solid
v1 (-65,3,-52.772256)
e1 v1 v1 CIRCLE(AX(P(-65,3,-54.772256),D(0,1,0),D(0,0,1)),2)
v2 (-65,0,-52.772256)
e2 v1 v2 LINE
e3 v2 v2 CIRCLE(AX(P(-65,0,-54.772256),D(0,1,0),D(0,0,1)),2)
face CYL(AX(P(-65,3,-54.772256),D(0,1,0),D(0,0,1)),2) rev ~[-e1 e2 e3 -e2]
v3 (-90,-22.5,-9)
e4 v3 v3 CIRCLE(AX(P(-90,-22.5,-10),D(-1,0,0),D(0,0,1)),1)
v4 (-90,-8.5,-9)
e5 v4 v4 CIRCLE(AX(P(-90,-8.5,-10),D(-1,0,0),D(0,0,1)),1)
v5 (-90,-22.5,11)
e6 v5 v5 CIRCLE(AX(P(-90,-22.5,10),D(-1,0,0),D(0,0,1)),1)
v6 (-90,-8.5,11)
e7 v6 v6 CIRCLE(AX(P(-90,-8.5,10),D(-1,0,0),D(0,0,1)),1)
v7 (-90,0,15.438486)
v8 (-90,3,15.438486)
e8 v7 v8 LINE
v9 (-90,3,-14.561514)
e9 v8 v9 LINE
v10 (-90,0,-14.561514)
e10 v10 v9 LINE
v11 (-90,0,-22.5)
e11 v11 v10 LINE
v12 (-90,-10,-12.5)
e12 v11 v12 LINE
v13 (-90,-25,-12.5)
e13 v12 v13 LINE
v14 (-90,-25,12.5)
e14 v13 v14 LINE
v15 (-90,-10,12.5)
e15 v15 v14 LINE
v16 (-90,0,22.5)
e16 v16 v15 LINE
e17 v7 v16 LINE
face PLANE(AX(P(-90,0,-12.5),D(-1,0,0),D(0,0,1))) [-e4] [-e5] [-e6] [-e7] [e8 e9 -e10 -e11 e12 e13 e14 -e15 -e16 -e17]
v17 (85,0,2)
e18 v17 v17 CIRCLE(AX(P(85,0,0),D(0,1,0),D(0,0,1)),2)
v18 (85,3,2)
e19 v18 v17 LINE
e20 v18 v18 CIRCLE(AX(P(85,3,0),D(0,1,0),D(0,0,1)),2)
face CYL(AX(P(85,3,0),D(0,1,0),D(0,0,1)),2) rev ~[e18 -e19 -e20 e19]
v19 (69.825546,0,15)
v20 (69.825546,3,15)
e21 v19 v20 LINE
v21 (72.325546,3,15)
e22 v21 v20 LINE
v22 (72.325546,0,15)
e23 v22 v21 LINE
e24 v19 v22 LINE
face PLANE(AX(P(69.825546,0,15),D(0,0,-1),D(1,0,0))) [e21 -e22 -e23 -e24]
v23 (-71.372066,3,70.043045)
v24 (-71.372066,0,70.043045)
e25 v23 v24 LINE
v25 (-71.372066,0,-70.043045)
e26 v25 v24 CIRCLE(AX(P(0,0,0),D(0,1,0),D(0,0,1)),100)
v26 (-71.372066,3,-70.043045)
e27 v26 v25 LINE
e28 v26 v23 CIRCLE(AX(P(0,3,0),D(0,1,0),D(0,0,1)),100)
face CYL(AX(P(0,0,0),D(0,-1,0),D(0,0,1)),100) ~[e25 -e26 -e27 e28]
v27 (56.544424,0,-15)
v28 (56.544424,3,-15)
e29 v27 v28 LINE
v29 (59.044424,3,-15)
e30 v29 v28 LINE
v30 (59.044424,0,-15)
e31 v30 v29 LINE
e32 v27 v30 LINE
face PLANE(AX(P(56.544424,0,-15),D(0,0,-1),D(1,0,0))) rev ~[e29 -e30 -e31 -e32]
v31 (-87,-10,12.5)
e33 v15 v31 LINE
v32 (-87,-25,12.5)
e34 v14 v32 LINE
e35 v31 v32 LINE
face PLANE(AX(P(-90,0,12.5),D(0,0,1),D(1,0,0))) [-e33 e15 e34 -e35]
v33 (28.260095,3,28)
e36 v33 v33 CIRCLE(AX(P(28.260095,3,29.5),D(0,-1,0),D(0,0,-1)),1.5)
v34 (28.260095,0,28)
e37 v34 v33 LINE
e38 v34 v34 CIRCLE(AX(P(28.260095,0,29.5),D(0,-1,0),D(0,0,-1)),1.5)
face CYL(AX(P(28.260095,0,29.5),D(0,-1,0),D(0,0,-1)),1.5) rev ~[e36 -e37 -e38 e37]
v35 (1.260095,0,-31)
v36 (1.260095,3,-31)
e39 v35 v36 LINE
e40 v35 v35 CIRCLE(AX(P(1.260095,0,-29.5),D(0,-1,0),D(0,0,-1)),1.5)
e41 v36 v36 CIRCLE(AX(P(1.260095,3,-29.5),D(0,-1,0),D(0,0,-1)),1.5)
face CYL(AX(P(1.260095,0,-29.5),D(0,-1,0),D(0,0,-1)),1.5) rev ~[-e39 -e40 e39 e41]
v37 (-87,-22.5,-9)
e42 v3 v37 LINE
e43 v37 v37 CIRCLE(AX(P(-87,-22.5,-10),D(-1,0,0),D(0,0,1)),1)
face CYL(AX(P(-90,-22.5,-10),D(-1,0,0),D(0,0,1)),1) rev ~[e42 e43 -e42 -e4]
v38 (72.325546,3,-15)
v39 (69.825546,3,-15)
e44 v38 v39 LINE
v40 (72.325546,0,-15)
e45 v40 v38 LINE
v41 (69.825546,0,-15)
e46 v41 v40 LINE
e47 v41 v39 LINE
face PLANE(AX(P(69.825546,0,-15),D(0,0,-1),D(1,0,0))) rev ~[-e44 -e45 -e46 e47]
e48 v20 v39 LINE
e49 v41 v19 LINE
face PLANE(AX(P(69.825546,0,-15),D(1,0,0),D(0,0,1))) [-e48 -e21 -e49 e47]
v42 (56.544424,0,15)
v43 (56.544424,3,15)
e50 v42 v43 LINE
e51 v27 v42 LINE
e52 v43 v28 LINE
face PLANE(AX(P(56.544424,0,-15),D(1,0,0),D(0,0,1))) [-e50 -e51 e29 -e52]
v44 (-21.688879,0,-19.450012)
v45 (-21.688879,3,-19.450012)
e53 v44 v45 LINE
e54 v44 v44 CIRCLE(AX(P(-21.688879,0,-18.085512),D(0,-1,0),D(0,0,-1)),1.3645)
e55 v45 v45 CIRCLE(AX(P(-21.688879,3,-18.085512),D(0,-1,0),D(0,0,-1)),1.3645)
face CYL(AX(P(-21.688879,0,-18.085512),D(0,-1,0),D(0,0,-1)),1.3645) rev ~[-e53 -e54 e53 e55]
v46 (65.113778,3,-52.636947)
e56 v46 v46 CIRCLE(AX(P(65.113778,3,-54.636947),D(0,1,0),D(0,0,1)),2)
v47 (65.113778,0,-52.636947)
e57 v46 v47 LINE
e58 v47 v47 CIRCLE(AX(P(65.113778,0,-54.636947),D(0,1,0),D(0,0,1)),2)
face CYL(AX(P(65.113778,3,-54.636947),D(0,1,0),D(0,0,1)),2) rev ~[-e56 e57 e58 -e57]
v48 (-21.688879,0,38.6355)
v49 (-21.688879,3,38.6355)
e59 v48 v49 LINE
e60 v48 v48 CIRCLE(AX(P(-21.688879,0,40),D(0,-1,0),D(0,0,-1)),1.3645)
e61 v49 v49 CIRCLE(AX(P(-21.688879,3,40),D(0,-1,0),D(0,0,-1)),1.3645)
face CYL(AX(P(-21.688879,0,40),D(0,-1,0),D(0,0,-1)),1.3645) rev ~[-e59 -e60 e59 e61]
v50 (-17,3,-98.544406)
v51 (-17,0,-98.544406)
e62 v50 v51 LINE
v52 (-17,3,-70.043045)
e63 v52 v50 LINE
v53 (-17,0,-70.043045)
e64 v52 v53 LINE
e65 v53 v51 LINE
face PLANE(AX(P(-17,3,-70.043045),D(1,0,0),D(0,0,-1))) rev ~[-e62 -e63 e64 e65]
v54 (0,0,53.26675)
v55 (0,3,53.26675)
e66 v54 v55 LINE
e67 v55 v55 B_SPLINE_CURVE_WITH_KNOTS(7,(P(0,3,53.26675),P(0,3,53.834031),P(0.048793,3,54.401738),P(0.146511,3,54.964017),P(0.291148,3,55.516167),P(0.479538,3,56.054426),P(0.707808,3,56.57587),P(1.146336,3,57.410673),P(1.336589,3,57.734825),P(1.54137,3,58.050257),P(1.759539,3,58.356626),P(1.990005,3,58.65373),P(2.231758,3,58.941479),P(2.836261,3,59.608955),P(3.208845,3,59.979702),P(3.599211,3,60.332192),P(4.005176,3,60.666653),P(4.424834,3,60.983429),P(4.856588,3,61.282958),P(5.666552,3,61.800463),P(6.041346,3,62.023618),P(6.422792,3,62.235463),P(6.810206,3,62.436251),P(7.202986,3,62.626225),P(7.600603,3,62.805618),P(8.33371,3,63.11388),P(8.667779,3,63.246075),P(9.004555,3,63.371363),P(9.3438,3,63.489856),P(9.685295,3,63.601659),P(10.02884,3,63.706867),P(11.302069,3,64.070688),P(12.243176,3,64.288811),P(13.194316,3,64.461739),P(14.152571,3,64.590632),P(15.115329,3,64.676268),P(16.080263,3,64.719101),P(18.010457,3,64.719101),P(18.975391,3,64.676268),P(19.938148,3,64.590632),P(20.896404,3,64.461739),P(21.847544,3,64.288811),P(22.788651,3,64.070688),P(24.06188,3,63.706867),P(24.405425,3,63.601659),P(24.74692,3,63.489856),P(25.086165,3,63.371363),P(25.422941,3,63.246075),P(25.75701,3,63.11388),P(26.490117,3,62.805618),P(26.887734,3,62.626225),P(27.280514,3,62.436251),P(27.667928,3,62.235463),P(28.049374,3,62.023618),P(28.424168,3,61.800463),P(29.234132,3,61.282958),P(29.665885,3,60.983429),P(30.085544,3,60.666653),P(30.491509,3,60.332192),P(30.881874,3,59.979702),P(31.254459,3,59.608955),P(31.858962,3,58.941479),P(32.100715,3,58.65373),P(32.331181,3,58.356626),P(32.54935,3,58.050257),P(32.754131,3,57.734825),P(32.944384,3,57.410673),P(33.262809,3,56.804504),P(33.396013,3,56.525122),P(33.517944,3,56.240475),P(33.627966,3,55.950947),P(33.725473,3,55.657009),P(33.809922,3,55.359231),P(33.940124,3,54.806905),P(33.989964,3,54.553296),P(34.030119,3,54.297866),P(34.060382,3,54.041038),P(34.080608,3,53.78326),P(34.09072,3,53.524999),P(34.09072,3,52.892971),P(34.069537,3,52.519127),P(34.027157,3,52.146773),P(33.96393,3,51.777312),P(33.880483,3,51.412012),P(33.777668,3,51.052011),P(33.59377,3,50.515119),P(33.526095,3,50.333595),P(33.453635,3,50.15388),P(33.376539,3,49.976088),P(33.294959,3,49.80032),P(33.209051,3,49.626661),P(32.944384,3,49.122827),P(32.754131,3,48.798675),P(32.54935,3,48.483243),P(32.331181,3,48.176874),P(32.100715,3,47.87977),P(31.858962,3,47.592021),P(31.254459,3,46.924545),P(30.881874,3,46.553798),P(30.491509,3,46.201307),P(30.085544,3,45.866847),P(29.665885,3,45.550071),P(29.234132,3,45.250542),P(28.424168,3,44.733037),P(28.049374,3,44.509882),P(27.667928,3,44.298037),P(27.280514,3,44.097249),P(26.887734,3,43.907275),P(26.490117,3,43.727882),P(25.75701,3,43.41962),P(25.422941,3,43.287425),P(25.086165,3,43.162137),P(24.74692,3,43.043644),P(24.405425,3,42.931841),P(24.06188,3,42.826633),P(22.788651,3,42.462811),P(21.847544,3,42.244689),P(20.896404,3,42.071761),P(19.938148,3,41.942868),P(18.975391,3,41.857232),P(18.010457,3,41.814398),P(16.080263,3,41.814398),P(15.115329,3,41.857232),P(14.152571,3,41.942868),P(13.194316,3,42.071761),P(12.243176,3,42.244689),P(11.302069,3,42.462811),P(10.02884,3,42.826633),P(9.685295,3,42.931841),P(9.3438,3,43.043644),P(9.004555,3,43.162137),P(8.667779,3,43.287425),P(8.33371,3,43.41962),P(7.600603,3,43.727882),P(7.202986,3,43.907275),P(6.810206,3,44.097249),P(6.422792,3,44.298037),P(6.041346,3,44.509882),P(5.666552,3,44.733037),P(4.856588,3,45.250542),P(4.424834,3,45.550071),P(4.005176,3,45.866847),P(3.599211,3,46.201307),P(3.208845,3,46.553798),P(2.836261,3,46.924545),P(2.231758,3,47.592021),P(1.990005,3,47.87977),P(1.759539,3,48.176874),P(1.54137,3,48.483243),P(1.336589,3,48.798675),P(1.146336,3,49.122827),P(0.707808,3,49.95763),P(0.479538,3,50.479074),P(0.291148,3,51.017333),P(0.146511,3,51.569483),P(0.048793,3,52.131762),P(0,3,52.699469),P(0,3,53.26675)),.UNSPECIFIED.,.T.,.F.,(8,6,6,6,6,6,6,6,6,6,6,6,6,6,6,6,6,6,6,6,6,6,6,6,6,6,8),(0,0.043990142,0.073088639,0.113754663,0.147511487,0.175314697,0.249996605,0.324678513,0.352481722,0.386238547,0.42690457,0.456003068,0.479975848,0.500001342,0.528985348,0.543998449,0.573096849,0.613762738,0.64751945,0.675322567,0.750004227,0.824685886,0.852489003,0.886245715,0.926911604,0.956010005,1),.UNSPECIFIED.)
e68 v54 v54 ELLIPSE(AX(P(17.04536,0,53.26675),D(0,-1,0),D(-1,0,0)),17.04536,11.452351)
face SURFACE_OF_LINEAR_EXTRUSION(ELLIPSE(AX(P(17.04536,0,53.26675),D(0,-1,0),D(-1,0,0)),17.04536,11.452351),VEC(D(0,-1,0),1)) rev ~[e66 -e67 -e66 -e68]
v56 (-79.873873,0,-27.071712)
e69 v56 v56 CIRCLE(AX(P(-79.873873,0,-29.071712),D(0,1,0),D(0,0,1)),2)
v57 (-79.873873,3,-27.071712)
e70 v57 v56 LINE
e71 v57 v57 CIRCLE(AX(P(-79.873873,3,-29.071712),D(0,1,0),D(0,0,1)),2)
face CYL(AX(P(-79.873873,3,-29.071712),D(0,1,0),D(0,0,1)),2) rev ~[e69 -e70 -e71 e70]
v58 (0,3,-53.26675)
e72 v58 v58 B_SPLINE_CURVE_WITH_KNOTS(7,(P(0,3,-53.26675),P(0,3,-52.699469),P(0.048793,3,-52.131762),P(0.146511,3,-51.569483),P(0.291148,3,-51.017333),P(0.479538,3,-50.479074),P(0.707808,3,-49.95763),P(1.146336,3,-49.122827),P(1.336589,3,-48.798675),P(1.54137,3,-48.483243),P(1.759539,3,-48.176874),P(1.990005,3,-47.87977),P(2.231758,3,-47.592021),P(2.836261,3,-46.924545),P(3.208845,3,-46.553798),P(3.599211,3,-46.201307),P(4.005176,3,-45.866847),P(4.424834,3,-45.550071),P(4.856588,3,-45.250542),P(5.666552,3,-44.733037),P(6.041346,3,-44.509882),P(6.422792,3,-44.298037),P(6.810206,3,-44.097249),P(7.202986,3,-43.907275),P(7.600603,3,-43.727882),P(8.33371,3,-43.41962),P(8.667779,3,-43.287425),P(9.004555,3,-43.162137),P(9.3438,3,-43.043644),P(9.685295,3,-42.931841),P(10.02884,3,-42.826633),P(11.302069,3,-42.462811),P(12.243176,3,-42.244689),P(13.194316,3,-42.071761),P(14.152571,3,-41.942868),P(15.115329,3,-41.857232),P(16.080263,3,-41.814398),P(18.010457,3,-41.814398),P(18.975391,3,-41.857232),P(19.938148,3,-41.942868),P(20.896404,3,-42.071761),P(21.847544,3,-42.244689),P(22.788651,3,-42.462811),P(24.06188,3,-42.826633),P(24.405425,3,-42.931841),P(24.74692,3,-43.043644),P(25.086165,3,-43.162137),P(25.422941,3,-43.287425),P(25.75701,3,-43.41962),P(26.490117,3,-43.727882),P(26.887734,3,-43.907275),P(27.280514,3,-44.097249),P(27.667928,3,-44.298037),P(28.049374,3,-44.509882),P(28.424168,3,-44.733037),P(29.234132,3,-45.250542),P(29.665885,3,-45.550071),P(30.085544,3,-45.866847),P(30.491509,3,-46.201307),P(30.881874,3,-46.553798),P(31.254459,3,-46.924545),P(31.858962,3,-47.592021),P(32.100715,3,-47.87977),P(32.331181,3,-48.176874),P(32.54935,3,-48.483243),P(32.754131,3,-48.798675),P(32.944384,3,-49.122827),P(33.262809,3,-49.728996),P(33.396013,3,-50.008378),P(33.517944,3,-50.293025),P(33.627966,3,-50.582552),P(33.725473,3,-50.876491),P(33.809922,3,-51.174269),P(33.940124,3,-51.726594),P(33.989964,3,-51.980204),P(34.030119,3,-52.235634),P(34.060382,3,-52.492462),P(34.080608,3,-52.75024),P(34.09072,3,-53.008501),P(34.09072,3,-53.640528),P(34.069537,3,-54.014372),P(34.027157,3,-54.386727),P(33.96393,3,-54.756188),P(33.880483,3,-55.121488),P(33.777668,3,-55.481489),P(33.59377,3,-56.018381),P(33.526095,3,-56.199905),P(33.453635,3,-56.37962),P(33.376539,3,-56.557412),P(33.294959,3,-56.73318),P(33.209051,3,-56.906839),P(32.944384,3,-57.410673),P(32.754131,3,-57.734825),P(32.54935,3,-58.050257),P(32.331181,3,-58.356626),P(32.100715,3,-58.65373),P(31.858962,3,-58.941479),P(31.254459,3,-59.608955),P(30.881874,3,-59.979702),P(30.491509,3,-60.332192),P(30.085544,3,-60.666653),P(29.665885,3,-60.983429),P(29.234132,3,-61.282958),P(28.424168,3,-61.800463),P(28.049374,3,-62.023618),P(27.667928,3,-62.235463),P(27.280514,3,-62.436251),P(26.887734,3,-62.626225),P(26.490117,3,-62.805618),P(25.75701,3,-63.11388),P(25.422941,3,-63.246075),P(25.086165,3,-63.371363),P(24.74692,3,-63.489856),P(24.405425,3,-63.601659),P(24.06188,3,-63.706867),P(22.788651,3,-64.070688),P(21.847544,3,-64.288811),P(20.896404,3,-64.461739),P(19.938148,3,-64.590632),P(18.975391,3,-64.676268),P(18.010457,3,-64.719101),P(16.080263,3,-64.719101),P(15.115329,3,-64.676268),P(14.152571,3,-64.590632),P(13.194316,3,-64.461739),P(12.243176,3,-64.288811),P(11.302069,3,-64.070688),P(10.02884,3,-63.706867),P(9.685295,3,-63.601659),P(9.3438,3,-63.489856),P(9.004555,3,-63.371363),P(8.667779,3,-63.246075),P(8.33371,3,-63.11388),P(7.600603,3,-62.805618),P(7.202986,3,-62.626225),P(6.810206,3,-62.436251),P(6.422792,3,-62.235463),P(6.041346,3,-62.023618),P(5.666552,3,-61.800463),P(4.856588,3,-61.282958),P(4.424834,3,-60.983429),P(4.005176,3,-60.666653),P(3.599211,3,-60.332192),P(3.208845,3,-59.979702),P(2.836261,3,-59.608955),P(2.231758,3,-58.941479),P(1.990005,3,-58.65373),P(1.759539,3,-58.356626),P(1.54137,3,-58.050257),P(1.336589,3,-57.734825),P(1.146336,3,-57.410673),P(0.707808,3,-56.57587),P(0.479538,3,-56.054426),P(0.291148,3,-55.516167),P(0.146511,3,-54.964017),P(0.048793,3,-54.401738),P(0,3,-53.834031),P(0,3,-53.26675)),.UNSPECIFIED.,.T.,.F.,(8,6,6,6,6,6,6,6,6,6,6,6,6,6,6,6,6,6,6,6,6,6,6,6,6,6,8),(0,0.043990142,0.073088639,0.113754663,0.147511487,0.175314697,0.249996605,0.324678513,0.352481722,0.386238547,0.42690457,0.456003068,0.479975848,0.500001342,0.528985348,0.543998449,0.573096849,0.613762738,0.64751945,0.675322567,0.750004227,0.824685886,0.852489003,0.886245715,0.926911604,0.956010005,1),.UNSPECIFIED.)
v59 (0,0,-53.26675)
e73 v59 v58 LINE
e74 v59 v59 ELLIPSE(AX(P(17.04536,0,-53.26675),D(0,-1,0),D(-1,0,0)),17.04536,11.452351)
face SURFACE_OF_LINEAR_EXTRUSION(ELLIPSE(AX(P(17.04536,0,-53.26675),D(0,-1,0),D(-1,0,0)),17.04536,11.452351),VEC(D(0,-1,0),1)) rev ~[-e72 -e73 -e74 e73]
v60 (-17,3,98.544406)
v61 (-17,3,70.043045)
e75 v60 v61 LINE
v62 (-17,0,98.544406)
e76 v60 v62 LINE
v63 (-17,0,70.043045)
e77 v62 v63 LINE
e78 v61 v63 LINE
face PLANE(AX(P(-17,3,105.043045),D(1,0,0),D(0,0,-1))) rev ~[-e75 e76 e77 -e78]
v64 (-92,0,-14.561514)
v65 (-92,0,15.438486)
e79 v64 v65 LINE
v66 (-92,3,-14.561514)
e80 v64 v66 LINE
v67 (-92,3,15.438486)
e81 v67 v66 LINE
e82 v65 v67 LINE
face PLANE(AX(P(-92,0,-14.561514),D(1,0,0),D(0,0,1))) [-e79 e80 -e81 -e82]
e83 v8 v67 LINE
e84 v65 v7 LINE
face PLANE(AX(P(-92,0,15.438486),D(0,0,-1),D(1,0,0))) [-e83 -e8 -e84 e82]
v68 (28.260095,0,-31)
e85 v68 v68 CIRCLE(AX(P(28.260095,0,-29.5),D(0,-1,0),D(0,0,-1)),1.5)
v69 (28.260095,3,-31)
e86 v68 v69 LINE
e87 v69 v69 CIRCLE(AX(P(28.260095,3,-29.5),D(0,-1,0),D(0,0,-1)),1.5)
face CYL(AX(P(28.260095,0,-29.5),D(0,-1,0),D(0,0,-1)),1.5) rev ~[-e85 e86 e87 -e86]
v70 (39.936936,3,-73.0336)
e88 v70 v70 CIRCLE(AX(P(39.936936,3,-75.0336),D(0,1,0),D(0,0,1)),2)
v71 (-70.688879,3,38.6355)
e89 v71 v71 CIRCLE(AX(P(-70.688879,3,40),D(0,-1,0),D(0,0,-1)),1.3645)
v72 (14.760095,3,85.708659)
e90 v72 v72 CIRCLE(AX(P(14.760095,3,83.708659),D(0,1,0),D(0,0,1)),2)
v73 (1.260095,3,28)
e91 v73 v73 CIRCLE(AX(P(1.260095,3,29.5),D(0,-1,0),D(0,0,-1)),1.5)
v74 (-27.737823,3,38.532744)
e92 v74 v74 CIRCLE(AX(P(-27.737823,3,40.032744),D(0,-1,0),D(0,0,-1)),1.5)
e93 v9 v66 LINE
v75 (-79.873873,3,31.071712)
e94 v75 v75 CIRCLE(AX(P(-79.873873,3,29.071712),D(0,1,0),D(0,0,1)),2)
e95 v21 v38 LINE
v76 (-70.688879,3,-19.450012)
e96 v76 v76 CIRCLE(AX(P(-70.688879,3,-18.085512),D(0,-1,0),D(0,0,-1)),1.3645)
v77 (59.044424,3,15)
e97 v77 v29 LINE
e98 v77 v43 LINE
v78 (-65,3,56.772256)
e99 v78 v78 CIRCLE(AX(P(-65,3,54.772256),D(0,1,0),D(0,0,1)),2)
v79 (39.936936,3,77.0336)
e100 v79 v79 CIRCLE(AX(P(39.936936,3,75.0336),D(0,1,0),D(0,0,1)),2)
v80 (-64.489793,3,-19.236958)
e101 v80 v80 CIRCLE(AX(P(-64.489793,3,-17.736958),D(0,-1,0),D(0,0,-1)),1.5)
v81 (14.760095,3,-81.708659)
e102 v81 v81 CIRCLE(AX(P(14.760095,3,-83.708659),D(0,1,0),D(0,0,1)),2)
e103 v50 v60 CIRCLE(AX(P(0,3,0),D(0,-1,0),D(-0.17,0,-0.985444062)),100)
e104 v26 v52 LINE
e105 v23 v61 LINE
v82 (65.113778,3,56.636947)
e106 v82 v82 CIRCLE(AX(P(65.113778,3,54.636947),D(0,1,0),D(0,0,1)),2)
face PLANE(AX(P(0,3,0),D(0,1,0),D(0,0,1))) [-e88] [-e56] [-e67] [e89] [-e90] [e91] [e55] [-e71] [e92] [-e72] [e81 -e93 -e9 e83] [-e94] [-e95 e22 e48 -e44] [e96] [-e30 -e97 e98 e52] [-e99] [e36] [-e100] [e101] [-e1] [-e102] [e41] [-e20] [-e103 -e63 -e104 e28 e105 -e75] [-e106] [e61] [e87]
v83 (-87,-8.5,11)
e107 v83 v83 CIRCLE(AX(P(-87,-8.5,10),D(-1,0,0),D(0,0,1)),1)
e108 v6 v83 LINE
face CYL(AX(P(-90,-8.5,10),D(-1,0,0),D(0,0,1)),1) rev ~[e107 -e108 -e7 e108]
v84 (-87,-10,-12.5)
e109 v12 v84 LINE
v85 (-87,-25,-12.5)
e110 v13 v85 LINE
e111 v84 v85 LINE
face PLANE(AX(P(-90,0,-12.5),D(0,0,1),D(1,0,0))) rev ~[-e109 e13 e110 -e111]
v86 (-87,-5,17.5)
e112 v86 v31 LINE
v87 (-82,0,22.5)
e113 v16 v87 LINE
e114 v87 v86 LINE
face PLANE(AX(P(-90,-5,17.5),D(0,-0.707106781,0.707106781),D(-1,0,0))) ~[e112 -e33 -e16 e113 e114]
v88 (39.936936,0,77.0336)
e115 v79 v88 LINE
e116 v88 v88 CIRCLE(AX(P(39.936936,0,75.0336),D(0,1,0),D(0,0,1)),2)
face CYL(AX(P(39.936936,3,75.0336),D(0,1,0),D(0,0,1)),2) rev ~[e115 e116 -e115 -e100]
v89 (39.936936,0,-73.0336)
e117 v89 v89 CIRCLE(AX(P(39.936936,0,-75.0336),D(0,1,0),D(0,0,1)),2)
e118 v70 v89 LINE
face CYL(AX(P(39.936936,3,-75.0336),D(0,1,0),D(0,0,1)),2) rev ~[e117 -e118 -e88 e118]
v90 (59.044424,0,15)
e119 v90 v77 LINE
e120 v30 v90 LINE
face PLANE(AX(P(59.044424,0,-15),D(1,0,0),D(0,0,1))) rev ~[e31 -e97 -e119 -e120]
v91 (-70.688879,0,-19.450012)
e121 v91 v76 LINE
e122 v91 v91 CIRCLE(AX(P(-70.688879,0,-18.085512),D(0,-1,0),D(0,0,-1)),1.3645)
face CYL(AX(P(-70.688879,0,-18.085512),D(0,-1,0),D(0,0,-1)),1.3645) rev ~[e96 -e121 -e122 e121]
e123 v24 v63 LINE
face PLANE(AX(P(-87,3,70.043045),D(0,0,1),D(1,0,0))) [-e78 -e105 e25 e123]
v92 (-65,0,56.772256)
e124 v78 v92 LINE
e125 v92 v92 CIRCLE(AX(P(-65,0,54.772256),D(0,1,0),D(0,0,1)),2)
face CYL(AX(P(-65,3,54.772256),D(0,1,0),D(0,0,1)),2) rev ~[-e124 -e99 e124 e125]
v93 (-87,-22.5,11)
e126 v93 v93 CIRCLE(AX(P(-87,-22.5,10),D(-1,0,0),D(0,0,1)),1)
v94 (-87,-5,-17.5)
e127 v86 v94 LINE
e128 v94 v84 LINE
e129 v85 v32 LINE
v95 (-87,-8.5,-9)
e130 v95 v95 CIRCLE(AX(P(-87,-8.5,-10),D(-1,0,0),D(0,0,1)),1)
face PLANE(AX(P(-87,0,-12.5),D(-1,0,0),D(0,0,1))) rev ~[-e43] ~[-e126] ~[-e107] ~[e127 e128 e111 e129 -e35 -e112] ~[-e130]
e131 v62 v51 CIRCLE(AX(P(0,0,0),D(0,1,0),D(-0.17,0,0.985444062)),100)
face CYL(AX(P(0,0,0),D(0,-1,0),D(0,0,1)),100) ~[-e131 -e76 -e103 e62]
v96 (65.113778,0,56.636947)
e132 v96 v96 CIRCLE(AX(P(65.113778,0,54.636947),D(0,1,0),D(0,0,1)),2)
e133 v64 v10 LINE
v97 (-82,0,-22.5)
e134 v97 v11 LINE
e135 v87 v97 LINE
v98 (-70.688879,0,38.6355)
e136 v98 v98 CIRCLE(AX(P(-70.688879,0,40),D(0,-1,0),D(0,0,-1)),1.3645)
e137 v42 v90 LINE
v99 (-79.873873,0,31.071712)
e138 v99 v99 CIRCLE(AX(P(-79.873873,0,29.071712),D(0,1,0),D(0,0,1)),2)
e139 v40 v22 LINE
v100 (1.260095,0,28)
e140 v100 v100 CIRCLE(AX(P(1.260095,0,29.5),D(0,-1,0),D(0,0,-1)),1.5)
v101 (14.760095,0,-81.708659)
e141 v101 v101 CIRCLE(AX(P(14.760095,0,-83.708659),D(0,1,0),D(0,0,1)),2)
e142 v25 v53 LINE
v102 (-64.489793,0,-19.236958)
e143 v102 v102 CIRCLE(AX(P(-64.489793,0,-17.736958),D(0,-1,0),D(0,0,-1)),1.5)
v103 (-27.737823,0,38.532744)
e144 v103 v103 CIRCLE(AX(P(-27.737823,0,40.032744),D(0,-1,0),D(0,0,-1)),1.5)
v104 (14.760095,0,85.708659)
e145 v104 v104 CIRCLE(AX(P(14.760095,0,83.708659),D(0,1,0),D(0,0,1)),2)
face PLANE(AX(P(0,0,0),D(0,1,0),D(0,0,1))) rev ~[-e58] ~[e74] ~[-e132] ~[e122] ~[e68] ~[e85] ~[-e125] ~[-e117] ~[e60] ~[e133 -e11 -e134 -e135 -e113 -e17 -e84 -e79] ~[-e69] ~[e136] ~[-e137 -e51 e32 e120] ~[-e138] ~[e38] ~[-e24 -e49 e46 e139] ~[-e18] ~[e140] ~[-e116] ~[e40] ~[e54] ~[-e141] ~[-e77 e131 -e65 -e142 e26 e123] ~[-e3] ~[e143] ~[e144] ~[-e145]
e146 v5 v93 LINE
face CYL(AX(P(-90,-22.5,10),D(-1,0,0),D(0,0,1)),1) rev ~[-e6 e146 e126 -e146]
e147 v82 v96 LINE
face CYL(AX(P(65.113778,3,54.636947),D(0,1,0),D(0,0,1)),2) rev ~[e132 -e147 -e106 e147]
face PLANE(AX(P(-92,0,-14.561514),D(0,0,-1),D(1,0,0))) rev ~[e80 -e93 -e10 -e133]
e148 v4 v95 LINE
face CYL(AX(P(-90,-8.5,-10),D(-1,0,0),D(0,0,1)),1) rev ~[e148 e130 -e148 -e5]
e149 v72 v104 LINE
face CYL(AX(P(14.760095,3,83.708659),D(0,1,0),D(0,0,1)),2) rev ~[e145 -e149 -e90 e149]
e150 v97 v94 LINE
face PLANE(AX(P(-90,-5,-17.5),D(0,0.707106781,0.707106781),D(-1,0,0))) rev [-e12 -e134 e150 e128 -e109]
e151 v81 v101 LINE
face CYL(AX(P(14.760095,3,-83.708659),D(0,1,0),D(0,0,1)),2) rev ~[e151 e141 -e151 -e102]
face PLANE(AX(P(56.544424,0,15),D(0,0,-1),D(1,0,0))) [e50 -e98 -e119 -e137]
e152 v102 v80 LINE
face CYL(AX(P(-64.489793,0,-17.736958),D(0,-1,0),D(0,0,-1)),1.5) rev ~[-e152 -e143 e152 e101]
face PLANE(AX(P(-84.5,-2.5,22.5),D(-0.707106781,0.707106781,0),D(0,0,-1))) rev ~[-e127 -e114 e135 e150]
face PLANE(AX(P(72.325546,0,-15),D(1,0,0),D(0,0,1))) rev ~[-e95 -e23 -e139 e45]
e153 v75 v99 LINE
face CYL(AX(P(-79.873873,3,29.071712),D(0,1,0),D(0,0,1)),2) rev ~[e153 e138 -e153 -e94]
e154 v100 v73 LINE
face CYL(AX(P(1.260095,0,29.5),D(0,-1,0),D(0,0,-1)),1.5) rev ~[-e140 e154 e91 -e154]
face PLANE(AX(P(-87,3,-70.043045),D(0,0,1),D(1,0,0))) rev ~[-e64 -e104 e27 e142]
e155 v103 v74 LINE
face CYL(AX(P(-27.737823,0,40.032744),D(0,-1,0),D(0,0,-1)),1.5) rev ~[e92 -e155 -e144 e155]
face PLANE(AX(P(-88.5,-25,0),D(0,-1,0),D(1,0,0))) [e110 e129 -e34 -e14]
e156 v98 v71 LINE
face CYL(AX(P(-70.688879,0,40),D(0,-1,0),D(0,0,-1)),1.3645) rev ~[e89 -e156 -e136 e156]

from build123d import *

# Parameters (mm, degrees)
SKETCH_1_R          = 100
EXTRUDE_1_DEPTH     = 3
SKETCH_2_R          = 2
CUT_EXTRUDE_1_DEPTH = 10
SKETCH_4_W          = 70
SKETCH_4_H          = 35
CUT_EXTRUDE_2_DEPTH = 10
SKETCH_5_R          = 2
CUT_EXTRUDE_3_DEPTH = 10
SKETCH_6_W          = 3
SKETCH_6_H          = 25
EXTRUDE_2_DEPTH     = 25
SKETCH_7_R          = 1
CUT_EXTRUDE_4_DEPTH = 30
CHAMFER_1_SIZE      = 10
CHAMFER_2_SIZE      = 10
CHAMFER_3_SIZE      = 5
SKETCH_11_W         = 2
SKETCH_11_H         = 30
CUT_EXTRUDE_5_DEPTH = 30
SKETCH_12_R         = 1.5
SKETCH_12_R_2       = 1.364499713
CUT_EXTRUDE_6_DEPTH = 10
SKETCH_13_W         = 2.5
SKETCH_13_H         = 30
CUT_EXTRUDE_7_DEPTH = 10
SKETCH_14_RX        = 17.045359967
SKETCH_14_RY        = 11.452351228
CUT_EXTRUDE_8_DEPTH = 10


with BuildPart() as part:
    # Эскиз1 → Бобышка-Вытянуть1 (new body)
    with BuildSketch(Plane(origin=(0, 0, 0), x_dir=(1, 0, 0), z_dir=(0, 1, 0))):
        with Locations(Location((0, 0, 0), (0, 0, 270))):
            Circle(SKETCH_1_R)
    extrude(amount=EXTRUDE_1_DEPTH)

    # Эскиз2 → Вырез-Вытянуть1 (cut)
    with BuildSketch(Plane(origin=(0, 3, 0), x_dir=(1, 0, 0), z_dir=(0, 1, 0))):
        with Locations(Location((85, 0, 0), (0, 0, 270))):
            Circle(SKETCH_2_R)
        with Locations(Location((65.113777665, -54.636946823, 0), (0, 0, 270))):
            Circle(SKETCH_2_R)
        with Locations(Location((14.760095102, -83.708659006, 0), (0, 0, 270))):
            Circle(SKETCH_2_R)
        with Locations(Location((-42.5, -73.612159322, 0), (0, 0, 270))):
            Circle(SKETCH_2_R)
        with Locations(Location((-79.873872767, -29.071712183, 0), (0, 0, 270))):
            Circle(SKETCH_2_R)
        with Locations(Location((-79.873872767, 29.071712183, 0), (0, 0, 270))):
            Circle(SKETCH_2_R)
        with Locations(Location((-42.5, 73.612159322, 0), (0, 0, 270))):
            Circle(SKETCH_2_R)
        with Locations(Location((14.760095102, 83.708659006, 0), (0, 0, 270))):
            Circle(SKETCH_2_R)
        with Locations(Location((65.113777665, 54.636946823, 0), (0, 0, 270))):
            Circle(SKETCH_2_R)
    extrude(amount=-CUT_EXTRUDE_1_DEPTH, mode=Mode.SUBTRACT)

    # Эскиз4 → Вырез-Вытянуть2 (cut)
    with BuildSketch(Plane(origin=(0, 3, 0), x_dir=(1, 0, 0), z_dir=(0, 1, 0))):
        with Locations((-52, -87.543045262)):
            Rectangle(SKETCH_4_W, SKETCH_4_H)
        with Locations((-52, 87.543045262)):
            Rectangle(SKETCH_4_W, SKETCH_4_H)
    extrude(amount=-CUT_EXTRUDE_2_DEPTH, mode=Mode.SUBTRACT)

    # Эскиз5 → Вырез-Вытянуть3 (cut)
    with BuildSketch(Plane(origin=(0, 3, 0), x_dir=(1, 0, 0), z_dir=(0, 1, 0))):
        with Locations(Location((39.936936383, -75.033599889, 0), (0, 0, 270))):
            Circle(SKETCH_5_R)
        with Locations(Location((39.936936383, 75.033599889, 0), (0, 0, 270))):
            Circle(SKETCH_5_R)
        with Locations(Location((-65, 54.772255751, 0), (0, 0, 270))):
            Circle(SKETCH_5_R)
        with Locations(Location((-65, -54.772255751, 0), (0, 0, 270))):
            Circle(SKETCH_5_R)
    extrude(amount=-CUT_EXTRUDE_3_DEPTH, mode=Mode.SUBTRACT)

    # Эскиз6 → Бобышка-Вытянуть2 (add)
    with BuildSketch(Plane.XZ):
        with Locations((-88.5, 0)):
            Rectangle(SKETCH_6_W, SKETCH_6_H)
    extrude(amount=EXTRUDE_2_DEPTH)

    # Эскиз7 → Вырез-Вытянуть4 (cut)
    with BuildSketch(Plane.ZY.offset(90)):
        with Locations((-10, -22.5)):
            Circle(SKETCH_7_R)
        with Locations((10, -22.5)):
            Circle(SKETCH_7_R)
        with Locations((-10, -8.5)):
            Circle(SKETCH_7_R)
        with Locations((10, -8.5)):
            Circle(SKETCH_7_R)
    extrude(amount=-CUT_EXTRUDE_4_DEPTH, mode=Mode.SUBTRACT)

    # Фаска1
    chamfer_1_edges = [part.edges().sort_by_distance(p)[0] for p in [
        (-88.5, 0, -12.5),
    ]]
    chamfer(chamfer_1_edges, length=CHAMFER_1_SIZE)

    # Фаска2
    chamfer_2_edges = [part.edges().sort_by_distance(p)[0] for p in [
        (-88.5, 0, 12.5),
    ]]
    chamfer(chamfer_2_edges, length=CHAMFER_2_SIZE)

    # Фаска3
    chamfer_3_edges = [part.edges().sort_by_distance(p)[0] for p in [
        (-87, 0, 0),
    ]]
    chamfer(chamfer_3_edges, length=CHAMFER_3_SIZE)

    # Эскиз11 → Вырез-Вытянуть5 (cut)
    with BuildSketch(Plane.XZ):
        with Locations((-91, 0.438486228)):
            Rectangle(SKETCH_11_W, SKETCH_11_H)
    extrude(amount=-CUT_EXTRUDE_5_DEPTH, mode=Mode.SUBTRACT)

    # Эскиз12 → Вырез-Вытянуть6 (cut)
    with BuildSketch(Plane.XZ):
        with Locations(Location((1.260095102, -29.5, 0), (0, 0, 270))):
            Circle(SKETCH_12_R)
        with Locations(Location((1.260095102, 29.5, 0), (0, 0, 270))):
            Circle(SKETCH_12_R)
        with Locations(Location((28.260095102, -29.5, 0), (0, 0, 270))):
            Circle(SKETCH_12_R)
        with Locations(Location((28.260095102, 29.5, 0), (0, 0, 270))):
            Circle(SKETCH_12_R)
        with Locations(Location((-70.688878581, 40, 0), (0, 0, 270))):
            Circle(SKETCH_12_R_2)
        with Locations(Location((-27.73782315, 40.032744033, 0), (0, 0, 270))):
            Circle(SKETCH_12_R)
        with Locations(Location((-21.688878581, 40, 0), (0, 0, 270))):
            Circle(SKETCH_12_R_2)
        with Locations(Location((-21.688878581, -18.085512482, 0), (0, 0, 270))):
            Circle(SKETCH_12_R_2)
        with Locations(Location((-64.489792506, -17.736958402, 0), (0, 0, 270))):
            Circle(SKETCH_12_R)
        with Locations(Location((-70.688878581, -18.085512482, 0), (0, 0, 270))):
            Circle(SKETCH_12_R_2)
    extrude(amount=-CUT_EXTRUDE_6_DEPTH, mode=Mode.SUBTRACT)

    # Эскиз13 → Вырез-Вытянуть7 (cut)
    with BuildSketch(Plane.XZ):
        with Locations((57.794423637, 0)):
            Rectangle(SKETCH_13_W, SKETCH_13_H)
        with Locations((71.075546462, 0)):
            Rectangle(SKETCH_13_W, SKETCH_13_H)
    extrude(amount=-CUT_EXTRUDE_7_DEPTH, mode=Mode.SUBTRACT)

    # Эскиз14 → Вырез-Вытянуть8 (cut)
    with BuildSketch(Plane.XZ):
        with Locations(Location((17.045359967, 53.266749896), (0, 0, 180))):
            Ellipse(SKETCH_14_RX, SKETCH_14_RY)
        with Locations(Location((17.045359967, -53.266749896), (0, 0, 180))):
            Ellipse(SKETCH_14_RX, SKETCH_14_RY)
    extrude(amount=-CUT_EXTRUDE_8_DEPTH, mode=Mode.SUBTRACT)


solid = part.part
